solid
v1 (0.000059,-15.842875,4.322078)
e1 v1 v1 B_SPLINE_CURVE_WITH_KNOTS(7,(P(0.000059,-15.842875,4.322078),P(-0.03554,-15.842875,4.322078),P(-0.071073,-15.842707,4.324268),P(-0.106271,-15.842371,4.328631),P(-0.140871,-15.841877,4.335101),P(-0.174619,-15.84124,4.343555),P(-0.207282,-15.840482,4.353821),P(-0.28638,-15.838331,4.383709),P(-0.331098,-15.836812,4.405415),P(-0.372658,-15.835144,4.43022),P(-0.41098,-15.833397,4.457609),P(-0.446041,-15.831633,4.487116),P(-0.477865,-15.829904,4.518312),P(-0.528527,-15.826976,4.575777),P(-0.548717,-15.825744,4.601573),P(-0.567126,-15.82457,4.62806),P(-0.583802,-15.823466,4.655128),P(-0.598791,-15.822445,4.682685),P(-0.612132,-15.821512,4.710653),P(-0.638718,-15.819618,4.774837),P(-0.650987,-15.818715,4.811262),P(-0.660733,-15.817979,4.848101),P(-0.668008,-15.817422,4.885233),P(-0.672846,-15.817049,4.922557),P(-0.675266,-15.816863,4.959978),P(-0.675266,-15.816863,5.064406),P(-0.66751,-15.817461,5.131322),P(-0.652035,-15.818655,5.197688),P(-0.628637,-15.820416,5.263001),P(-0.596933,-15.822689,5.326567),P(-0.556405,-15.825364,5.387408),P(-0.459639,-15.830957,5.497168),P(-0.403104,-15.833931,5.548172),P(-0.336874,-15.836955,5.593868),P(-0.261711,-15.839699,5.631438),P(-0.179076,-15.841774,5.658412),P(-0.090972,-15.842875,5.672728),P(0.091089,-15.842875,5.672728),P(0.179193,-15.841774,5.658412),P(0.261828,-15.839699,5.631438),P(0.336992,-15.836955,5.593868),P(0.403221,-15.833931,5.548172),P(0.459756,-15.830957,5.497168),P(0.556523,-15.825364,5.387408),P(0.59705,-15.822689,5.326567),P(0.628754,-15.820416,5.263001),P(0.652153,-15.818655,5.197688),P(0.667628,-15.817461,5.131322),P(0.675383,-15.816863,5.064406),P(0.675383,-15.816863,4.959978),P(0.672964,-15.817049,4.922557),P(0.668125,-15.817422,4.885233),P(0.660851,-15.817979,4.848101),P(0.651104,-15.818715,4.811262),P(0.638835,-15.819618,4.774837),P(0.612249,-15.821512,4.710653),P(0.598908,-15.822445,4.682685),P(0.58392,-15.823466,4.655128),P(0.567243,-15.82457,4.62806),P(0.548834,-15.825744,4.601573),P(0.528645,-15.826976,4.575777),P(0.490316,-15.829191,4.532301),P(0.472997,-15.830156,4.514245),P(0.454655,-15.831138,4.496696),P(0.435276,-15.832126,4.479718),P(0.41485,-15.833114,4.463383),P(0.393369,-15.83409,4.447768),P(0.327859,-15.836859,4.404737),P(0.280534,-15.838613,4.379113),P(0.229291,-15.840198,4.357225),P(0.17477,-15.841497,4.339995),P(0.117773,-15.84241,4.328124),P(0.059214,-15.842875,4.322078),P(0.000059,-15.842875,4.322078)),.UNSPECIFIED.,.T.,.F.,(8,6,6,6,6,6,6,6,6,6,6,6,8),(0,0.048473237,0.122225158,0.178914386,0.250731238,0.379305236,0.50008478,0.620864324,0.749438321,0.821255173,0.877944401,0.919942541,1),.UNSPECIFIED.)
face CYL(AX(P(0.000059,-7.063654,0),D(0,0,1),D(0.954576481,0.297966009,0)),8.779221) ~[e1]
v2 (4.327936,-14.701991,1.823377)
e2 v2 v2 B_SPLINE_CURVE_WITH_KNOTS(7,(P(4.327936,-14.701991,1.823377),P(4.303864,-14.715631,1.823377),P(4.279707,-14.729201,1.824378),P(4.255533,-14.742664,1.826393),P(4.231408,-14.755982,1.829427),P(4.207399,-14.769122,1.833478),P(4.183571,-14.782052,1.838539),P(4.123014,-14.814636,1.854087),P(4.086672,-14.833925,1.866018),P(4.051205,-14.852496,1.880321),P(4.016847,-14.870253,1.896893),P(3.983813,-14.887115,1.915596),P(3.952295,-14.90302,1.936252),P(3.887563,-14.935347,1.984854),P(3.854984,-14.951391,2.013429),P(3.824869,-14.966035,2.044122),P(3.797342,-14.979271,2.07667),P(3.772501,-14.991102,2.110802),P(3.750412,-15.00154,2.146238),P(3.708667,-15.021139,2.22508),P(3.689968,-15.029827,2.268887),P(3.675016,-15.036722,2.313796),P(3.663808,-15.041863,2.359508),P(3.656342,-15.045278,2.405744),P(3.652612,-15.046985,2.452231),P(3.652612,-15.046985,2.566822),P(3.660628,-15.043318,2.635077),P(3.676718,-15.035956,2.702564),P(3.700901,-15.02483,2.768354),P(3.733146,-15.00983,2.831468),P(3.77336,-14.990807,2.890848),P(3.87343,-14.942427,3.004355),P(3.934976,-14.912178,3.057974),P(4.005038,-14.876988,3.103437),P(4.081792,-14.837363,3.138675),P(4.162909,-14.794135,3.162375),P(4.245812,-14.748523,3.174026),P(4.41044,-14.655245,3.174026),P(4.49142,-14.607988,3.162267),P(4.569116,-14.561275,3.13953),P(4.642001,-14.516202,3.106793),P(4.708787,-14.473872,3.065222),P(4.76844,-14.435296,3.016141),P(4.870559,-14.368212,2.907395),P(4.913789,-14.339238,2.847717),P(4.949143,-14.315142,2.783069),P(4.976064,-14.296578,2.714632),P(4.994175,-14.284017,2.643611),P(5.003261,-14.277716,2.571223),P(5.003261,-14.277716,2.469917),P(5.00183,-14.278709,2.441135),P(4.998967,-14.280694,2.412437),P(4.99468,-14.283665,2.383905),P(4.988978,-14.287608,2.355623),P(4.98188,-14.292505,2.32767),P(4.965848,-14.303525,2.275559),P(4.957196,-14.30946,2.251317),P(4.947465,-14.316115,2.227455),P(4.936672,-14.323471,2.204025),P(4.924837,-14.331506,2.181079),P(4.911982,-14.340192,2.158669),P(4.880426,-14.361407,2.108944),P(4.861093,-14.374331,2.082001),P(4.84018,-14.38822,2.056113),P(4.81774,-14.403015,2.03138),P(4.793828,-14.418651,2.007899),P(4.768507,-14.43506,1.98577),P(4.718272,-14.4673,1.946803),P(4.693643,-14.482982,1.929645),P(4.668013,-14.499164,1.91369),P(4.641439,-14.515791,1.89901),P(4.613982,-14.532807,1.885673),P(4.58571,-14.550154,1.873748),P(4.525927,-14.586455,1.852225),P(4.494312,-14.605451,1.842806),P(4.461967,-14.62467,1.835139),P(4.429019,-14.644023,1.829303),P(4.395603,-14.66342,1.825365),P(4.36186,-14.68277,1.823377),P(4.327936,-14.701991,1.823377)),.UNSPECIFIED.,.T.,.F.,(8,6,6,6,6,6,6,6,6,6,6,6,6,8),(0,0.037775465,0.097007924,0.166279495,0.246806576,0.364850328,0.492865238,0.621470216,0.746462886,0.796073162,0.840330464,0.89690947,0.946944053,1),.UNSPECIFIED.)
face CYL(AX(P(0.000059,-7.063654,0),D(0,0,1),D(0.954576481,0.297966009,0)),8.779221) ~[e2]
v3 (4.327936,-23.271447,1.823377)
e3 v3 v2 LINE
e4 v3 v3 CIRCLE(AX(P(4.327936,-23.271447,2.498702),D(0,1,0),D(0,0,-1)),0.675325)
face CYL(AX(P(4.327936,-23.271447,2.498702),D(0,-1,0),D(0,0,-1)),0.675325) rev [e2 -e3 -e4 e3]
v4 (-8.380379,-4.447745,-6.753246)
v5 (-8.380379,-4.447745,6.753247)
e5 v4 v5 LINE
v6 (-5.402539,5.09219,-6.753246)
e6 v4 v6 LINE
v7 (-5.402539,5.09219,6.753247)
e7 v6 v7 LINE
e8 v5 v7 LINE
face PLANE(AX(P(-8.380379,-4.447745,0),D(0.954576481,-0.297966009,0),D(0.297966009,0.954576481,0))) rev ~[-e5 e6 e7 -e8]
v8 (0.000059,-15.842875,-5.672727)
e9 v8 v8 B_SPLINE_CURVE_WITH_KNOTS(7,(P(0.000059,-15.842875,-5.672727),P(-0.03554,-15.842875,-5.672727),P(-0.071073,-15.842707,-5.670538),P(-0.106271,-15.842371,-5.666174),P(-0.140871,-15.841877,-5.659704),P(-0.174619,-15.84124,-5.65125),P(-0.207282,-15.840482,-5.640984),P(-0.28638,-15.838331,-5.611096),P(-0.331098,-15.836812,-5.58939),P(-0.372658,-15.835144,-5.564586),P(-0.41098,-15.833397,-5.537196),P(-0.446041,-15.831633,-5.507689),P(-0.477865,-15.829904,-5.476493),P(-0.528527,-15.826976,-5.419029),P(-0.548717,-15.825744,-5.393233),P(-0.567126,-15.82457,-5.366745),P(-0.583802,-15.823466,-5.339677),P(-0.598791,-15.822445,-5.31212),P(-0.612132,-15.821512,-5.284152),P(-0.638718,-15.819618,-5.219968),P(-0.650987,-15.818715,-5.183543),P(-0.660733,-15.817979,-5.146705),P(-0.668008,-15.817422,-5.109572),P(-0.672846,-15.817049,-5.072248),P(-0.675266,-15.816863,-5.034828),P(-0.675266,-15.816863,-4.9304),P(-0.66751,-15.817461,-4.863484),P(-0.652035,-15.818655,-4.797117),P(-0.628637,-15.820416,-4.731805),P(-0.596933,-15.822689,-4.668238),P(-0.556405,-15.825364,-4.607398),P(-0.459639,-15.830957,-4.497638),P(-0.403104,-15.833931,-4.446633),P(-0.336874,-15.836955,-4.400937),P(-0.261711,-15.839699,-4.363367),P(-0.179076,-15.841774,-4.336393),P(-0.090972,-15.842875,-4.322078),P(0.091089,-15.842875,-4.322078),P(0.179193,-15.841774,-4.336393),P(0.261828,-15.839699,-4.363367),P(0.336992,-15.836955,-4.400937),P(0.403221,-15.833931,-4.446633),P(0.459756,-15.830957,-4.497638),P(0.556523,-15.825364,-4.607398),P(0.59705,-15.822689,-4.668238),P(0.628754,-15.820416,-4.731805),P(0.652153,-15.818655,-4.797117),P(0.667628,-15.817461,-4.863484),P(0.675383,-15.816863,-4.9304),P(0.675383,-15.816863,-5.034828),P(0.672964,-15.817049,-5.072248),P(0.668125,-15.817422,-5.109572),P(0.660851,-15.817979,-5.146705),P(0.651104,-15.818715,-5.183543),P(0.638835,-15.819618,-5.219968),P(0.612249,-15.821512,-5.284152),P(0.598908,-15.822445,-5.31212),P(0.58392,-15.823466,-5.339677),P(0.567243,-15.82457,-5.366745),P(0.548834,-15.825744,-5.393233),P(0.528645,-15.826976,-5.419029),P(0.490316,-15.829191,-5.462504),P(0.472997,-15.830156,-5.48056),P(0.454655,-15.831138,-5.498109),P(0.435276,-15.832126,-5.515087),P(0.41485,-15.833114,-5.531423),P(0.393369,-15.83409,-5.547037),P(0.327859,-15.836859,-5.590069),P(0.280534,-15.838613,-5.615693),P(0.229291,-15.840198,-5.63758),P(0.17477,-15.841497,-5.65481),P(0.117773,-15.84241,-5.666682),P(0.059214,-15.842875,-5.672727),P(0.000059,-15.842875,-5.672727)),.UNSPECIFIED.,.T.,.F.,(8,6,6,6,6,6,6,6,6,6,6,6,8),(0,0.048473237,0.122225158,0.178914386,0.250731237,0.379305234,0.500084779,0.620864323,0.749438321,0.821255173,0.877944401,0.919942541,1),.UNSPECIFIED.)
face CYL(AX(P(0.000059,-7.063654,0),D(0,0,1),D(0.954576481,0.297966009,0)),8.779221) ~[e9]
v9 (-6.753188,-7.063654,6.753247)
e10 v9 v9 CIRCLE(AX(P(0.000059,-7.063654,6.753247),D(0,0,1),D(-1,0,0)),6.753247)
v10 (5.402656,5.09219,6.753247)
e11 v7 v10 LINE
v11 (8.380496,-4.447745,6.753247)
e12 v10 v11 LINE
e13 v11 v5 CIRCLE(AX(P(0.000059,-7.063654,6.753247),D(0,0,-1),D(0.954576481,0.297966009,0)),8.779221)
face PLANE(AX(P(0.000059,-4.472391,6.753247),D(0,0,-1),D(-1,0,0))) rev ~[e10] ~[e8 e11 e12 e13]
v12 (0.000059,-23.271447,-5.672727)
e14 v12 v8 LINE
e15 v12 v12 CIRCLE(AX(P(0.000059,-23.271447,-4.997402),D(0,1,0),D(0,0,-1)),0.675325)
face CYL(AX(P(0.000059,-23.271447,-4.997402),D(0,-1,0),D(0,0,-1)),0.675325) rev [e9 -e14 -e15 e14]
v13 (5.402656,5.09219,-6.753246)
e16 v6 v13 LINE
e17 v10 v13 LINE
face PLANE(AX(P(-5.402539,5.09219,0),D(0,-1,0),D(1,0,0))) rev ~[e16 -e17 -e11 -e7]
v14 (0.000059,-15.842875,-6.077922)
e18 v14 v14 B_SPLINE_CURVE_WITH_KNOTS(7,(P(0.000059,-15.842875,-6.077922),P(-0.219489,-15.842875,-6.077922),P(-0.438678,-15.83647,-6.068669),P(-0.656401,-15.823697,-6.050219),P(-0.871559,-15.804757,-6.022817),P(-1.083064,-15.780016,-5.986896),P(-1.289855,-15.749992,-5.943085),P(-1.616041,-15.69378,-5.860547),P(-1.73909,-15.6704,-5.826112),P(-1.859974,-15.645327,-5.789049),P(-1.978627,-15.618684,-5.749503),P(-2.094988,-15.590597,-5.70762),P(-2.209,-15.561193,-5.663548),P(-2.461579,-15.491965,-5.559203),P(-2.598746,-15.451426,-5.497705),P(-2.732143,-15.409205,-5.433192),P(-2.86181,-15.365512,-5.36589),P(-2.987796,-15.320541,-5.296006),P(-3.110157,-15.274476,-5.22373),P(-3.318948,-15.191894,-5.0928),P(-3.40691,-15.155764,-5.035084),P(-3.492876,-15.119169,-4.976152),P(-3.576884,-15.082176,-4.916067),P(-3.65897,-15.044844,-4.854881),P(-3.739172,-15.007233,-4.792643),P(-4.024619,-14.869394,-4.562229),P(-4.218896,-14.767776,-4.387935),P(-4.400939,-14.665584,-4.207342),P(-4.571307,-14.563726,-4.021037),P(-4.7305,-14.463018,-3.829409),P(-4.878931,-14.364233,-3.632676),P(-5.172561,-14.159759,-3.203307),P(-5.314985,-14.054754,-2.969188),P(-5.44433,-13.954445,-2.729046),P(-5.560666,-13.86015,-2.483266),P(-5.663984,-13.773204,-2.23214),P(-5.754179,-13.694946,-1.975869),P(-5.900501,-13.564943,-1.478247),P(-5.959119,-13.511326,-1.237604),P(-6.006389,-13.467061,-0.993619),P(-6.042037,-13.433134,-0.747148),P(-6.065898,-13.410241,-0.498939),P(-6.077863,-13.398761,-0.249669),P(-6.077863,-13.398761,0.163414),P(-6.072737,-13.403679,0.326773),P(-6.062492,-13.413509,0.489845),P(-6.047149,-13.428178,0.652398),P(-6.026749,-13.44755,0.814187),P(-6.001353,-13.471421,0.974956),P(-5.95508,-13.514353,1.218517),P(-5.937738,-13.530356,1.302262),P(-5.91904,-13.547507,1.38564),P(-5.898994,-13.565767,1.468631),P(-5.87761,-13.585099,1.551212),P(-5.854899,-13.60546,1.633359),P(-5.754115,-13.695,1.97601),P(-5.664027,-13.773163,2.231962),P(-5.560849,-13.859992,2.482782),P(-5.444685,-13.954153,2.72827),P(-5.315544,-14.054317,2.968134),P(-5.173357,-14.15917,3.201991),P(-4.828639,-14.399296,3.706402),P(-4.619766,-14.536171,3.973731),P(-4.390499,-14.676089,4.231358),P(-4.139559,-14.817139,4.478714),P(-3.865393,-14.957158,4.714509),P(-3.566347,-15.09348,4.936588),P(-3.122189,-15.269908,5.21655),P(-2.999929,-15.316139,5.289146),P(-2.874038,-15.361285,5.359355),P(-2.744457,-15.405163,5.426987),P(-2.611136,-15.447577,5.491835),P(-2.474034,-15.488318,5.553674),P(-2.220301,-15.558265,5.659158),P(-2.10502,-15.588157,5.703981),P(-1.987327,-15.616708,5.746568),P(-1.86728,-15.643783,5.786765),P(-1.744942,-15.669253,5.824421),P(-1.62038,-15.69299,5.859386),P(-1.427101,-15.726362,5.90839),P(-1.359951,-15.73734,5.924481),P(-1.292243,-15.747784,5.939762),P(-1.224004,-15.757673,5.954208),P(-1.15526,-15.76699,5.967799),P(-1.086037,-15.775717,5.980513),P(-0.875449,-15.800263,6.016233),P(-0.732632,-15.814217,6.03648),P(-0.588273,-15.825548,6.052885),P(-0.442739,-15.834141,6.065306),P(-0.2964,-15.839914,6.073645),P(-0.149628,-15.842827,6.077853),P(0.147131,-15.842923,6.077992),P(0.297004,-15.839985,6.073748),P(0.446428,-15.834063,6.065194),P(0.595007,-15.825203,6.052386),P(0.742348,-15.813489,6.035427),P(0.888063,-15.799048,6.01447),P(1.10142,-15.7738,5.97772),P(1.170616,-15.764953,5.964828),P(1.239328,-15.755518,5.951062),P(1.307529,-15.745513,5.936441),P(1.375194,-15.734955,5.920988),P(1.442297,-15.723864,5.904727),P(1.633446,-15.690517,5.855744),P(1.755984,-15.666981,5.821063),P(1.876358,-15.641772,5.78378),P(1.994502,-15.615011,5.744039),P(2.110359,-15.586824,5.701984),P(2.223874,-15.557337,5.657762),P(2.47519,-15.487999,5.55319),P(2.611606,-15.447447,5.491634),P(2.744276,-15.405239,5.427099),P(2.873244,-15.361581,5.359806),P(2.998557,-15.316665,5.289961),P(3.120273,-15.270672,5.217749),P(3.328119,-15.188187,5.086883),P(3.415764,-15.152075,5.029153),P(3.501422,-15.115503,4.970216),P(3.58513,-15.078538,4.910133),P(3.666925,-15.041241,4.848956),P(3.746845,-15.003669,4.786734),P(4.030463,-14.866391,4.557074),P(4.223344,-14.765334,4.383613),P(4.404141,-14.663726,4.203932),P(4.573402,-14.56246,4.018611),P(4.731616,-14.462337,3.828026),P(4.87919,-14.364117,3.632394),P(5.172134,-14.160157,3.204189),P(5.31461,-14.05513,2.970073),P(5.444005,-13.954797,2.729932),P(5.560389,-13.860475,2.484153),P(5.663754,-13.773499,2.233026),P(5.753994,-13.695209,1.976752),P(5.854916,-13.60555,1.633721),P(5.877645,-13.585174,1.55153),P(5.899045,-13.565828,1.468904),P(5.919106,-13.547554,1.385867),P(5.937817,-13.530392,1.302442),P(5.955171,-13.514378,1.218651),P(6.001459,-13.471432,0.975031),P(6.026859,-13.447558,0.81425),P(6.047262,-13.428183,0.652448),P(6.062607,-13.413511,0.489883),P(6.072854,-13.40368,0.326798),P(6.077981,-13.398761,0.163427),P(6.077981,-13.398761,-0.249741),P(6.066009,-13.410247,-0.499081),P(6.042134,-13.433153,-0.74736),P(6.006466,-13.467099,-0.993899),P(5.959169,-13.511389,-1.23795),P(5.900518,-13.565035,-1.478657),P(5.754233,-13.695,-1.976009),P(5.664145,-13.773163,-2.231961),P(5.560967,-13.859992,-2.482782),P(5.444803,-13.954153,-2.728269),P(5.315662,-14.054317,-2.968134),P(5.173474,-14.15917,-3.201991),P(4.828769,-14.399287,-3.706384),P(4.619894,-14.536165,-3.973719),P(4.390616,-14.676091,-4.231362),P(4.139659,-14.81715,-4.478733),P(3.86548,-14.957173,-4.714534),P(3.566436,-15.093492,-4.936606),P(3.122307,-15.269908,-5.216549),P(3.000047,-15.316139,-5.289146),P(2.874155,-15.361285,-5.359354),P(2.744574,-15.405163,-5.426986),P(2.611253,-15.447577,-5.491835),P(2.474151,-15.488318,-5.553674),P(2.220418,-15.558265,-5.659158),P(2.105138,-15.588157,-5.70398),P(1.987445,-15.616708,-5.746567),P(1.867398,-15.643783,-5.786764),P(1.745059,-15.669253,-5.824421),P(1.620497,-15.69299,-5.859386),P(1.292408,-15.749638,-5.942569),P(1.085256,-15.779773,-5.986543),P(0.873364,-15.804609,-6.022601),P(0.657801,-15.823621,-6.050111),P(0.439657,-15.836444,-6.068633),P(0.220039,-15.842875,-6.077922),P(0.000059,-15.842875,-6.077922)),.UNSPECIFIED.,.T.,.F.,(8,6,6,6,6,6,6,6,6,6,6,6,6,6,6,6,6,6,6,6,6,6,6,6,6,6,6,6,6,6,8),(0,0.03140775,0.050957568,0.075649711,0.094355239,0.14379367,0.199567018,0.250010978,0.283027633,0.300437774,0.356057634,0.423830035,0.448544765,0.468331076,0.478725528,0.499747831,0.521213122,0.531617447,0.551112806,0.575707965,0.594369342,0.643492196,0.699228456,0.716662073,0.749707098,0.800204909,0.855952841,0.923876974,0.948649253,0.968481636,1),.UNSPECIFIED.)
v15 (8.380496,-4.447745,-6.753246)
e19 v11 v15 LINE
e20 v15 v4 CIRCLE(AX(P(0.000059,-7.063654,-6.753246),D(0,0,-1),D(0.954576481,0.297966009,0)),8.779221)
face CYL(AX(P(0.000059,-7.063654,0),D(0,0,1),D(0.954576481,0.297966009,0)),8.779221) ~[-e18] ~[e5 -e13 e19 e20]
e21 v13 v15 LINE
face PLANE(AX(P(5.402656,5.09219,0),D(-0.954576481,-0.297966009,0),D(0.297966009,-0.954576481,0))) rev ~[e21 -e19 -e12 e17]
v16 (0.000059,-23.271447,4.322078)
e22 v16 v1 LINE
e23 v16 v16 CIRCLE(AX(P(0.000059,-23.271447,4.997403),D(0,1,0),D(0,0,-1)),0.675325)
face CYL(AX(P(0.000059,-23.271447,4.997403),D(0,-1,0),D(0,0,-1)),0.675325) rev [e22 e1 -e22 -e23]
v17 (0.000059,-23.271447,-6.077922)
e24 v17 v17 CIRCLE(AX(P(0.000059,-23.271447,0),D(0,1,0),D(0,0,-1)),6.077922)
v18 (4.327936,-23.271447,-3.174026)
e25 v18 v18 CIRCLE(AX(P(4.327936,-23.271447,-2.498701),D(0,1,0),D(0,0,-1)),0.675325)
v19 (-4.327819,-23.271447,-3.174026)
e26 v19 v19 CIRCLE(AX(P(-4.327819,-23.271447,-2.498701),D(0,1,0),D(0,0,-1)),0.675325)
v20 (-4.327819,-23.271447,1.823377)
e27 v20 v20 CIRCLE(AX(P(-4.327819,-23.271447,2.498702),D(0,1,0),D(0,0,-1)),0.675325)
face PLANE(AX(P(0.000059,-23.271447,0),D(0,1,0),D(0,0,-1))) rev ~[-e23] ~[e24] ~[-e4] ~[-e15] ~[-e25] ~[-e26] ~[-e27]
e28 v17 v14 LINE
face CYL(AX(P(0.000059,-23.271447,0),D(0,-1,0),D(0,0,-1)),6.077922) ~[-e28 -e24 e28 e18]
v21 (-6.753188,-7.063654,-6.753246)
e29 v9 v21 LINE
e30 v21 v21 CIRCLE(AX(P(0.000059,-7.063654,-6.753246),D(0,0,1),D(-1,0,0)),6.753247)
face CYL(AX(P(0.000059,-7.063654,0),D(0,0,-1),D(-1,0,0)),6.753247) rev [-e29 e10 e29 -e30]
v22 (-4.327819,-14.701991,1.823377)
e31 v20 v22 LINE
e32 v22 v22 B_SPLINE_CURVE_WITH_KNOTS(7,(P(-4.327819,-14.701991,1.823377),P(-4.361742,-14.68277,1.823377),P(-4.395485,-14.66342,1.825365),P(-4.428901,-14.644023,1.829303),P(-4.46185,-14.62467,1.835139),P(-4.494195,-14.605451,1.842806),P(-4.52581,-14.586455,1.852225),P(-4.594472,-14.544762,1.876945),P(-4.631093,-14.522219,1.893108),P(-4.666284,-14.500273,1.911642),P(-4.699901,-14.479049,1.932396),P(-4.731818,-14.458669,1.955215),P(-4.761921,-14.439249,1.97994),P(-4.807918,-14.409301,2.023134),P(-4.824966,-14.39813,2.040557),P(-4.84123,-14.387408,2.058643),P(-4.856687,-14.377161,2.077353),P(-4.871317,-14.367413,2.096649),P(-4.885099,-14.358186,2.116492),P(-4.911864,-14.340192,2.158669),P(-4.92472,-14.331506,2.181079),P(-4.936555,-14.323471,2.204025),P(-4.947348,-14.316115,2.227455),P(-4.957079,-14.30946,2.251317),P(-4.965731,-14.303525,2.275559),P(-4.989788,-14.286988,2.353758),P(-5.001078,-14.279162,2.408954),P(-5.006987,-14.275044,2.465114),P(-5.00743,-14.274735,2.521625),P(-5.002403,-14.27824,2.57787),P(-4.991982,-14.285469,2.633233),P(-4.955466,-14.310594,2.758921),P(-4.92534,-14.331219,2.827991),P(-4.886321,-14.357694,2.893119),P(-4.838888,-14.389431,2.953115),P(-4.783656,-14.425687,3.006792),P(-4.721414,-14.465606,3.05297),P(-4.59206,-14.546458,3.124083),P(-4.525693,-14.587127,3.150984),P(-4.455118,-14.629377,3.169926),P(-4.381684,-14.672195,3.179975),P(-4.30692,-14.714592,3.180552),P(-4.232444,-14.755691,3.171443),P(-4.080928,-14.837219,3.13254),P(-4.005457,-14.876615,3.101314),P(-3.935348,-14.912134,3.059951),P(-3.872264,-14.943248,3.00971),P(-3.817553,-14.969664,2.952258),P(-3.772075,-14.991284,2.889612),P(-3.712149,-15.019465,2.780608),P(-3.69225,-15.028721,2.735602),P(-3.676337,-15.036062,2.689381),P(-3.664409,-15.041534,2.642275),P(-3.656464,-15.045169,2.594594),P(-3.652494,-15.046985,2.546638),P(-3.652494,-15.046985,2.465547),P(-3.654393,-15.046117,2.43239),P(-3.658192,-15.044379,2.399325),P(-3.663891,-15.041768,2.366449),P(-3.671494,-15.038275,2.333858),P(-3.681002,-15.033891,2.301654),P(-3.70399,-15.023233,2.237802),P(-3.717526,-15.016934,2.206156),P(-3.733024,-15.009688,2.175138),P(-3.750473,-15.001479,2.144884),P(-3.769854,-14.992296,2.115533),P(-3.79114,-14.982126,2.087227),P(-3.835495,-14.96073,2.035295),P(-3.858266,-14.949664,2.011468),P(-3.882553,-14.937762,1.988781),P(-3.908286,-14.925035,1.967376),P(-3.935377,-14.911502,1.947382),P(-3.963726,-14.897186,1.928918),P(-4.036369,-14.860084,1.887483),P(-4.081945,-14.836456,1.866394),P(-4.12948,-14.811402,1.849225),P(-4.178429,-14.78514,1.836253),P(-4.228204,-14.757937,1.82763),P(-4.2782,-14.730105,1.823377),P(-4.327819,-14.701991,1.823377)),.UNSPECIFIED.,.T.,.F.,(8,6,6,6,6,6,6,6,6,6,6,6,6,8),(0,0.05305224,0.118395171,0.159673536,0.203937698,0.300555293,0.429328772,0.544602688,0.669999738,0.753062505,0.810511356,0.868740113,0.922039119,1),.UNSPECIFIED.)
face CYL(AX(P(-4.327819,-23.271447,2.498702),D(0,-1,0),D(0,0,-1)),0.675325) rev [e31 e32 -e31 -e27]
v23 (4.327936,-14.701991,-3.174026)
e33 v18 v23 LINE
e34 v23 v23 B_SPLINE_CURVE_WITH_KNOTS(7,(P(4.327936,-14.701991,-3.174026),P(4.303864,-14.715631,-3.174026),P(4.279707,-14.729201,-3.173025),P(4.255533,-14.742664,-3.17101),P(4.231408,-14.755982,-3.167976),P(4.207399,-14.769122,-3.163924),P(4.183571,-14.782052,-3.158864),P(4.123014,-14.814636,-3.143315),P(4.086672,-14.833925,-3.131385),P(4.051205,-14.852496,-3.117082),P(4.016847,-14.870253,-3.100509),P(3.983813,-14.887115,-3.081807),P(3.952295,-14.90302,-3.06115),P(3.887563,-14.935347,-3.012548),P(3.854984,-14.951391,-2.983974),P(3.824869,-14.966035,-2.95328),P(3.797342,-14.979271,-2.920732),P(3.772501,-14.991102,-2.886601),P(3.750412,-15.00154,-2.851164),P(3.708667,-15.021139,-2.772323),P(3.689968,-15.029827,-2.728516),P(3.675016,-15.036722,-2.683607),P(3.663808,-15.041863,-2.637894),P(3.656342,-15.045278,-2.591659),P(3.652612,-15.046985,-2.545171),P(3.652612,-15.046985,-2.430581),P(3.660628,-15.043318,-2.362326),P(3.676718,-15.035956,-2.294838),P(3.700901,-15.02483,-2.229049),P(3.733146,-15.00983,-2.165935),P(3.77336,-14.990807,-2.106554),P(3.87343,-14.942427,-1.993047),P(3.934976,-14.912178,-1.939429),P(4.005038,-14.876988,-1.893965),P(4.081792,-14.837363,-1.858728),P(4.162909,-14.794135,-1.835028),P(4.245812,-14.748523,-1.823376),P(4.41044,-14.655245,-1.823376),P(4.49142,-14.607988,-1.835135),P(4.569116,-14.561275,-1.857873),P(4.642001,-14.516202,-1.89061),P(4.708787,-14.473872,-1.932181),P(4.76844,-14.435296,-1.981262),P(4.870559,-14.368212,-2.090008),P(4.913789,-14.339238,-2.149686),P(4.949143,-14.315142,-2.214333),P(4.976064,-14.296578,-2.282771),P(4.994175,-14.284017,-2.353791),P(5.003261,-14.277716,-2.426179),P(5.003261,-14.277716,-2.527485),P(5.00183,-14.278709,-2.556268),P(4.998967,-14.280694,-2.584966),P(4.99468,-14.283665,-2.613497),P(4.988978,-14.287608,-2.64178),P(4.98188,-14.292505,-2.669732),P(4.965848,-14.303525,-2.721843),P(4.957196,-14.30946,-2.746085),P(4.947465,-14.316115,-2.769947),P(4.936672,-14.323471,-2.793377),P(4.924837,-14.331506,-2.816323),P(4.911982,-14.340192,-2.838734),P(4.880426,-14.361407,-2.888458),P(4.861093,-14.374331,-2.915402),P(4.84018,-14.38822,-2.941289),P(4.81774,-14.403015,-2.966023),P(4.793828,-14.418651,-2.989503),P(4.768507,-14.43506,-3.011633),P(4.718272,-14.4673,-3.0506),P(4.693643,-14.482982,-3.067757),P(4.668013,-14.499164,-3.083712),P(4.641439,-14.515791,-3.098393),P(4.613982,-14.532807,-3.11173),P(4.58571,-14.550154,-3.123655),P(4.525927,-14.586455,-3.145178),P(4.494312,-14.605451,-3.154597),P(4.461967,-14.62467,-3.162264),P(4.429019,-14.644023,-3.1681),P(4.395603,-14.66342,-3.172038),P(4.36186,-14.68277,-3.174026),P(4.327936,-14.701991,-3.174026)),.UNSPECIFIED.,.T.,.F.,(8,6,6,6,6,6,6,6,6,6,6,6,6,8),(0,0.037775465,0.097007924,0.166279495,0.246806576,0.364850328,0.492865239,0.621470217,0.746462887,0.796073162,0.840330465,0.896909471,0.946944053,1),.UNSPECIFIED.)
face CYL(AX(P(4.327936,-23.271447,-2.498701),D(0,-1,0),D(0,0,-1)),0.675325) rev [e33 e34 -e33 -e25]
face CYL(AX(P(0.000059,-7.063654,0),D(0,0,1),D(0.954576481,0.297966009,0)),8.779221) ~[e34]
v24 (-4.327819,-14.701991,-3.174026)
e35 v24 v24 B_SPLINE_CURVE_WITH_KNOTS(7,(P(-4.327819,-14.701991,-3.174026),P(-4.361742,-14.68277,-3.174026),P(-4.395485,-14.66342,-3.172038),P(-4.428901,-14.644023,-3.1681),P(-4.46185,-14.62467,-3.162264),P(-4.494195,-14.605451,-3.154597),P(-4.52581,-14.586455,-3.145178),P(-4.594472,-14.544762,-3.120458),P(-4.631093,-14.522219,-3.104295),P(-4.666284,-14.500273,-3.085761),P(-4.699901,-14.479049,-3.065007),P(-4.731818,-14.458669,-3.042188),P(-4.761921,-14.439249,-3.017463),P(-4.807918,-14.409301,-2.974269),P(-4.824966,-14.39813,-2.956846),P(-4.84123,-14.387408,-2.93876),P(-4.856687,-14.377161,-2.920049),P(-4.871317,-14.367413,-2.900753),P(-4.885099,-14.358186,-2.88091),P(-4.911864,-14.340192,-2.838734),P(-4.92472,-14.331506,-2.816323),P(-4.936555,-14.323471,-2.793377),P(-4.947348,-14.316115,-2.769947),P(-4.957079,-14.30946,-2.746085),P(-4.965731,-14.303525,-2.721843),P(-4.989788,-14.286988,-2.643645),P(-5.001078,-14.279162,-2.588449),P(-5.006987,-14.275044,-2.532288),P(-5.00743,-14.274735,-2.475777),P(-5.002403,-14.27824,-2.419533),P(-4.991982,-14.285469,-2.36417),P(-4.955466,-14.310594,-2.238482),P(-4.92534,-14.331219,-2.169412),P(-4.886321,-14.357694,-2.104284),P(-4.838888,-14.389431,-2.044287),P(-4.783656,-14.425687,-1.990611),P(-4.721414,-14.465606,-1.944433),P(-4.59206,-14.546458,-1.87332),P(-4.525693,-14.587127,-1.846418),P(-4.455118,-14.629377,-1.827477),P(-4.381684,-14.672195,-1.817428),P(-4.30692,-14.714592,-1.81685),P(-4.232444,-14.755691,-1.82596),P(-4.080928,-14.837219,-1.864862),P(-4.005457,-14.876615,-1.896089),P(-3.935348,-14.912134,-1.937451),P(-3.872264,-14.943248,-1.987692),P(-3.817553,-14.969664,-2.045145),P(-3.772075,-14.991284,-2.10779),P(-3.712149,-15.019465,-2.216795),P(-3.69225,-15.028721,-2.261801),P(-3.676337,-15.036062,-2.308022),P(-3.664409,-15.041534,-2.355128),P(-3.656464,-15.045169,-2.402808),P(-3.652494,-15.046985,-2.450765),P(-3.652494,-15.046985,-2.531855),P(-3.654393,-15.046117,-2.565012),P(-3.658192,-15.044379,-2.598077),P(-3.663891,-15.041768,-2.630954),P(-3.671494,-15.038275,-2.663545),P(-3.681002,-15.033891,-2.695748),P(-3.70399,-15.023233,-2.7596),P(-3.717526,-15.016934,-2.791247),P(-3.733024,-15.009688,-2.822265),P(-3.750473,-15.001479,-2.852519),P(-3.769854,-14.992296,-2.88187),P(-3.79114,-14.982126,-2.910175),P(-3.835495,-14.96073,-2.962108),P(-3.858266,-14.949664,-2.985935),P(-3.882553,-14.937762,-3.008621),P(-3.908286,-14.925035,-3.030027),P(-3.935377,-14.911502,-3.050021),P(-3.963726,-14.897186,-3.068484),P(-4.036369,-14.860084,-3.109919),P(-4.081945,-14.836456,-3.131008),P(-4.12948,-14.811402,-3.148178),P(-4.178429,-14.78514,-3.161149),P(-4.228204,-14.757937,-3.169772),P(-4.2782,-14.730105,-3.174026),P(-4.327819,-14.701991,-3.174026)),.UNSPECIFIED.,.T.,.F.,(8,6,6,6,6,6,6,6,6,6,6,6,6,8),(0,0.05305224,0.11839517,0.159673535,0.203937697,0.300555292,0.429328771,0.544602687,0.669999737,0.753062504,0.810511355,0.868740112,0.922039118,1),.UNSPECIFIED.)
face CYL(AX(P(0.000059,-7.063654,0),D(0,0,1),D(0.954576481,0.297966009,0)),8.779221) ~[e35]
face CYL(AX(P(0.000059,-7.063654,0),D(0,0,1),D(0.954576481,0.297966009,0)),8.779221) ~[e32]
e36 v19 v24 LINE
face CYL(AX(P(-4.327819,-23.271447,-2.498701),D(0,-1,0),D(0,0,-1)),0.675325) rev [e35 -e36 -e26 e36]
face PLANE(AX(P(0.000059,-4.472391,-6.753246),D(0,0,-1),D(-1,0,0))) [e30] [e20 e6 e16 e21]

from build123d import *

# Parameters (mm, degrees)
SKETCH1_R                = 50
BOSS_EXTRUDE1_DEPTH      = 50
BOSS_EXTRUDE2_REACH      = 227.444
BOSS_EXTRUDE2_END_RADIUS = 65
SKETCH2_R                = 45
SKETCH2_R_2              = 5
SCALE_1_SCALE            = 0.135064935


with BuildPart() as part:
    # Sketch1 → Boss-Extrude1 (new, symmetric)
    with BuildSketch(Plane.XY):
        with BuildLine():
            Line((-40, 90), (40, 90))
            Line((40, 90), (62.047471254, 19.367790554))
            ThreePointArc((62.047471254, 19.367790554), (0, -65), (-62.047471254, 19.367790554))
            Line((-62.047471254, 19.367790554), (-40, 90))
        make_face()
        with Locations(Location((0, 0, 0), (0, 0, 180))):
            Circle(SKETCH1_R, mode=Mode.SUBTRACT)
    extrude(amount=BOSS_EXTRUDE1_DEPTH, both=True)

    # Boss-Extrude2: up to this cylinder (the profile starts outside it)
    boss_extrude2_end = Plane(origin=(0, 0, 0), z_dir=(0, 0, -1)) * Cylinder(BOSS_EXTRUDE2_END_RADIUS, 585.888, mode=Mode.PRIVATE)
    # Sketch2 → Boss-Extrude2 (add, up to the surface)
    with BuildSketch(Plane(origin=(0, -120, 0), x_dir=(1, 0, 0), z_dir=(0, 1, 0)), mode=Mode.PRIVATE) as boss_extrude2_sk1:
        with Locations(Location((0, 0, 0), (0, 0, 90))):
            Circle(SKETCH2_R)
        with Locations(Location((0, 37, 0), (0, 0, 90))):
            Circle(SKETCH2_R_2, mode=Mode.SUBTRACT)
        with Locations(Location((32.04293994, 18.5, 0), (0, 0, 90))):
            Circle(SKETCH2_R_2, mode=Mode.SUBTRACT)
        with Locations(Location((32.04293994, -18.5, 0), (0, 0, 90))):
            Circle(SKETCH2_R_2, mode=Mode.SUBTRACT)
        with Locations(Location((0, -37, 0), (0, 0, 90))):
            Circle(SKETCH2_R_2, mode=Mode.SUBTRACT)
        with Locations(Location((-32.04293994, -18.5, 0), (0, 0, 90))):
            Circle(SKETCH2_R_2, mode=Mode.SUBTRACT)
        with Locations(Location((-32.04293994, 18.5, 0), (0, 0, 90))):
            Circle(SKETCH2_R_2, mode=Mode.SUBTRACT)
    boss_extrude2_tool1 = extrude(boss_extrude2_sk1.sketch, amount=BOSS_EXTRUDE2_REACH, mode=Mode.PRIVATE) - boss_extrude2_end
    add(boss_extrude2_tool1.solids().sort_by_distance((0, -120, 0))[0])


with BuildPart() as part_1:
    # 缩放比例1: scaled about (6.7865e-05, -8.166687409, 3.34e-07)
    add(part.part.scale(SCALE_1_SCALE).moved(Location((5.8699e-05, -7.063654304, 2.89e-07))))


solid = part_1.part
